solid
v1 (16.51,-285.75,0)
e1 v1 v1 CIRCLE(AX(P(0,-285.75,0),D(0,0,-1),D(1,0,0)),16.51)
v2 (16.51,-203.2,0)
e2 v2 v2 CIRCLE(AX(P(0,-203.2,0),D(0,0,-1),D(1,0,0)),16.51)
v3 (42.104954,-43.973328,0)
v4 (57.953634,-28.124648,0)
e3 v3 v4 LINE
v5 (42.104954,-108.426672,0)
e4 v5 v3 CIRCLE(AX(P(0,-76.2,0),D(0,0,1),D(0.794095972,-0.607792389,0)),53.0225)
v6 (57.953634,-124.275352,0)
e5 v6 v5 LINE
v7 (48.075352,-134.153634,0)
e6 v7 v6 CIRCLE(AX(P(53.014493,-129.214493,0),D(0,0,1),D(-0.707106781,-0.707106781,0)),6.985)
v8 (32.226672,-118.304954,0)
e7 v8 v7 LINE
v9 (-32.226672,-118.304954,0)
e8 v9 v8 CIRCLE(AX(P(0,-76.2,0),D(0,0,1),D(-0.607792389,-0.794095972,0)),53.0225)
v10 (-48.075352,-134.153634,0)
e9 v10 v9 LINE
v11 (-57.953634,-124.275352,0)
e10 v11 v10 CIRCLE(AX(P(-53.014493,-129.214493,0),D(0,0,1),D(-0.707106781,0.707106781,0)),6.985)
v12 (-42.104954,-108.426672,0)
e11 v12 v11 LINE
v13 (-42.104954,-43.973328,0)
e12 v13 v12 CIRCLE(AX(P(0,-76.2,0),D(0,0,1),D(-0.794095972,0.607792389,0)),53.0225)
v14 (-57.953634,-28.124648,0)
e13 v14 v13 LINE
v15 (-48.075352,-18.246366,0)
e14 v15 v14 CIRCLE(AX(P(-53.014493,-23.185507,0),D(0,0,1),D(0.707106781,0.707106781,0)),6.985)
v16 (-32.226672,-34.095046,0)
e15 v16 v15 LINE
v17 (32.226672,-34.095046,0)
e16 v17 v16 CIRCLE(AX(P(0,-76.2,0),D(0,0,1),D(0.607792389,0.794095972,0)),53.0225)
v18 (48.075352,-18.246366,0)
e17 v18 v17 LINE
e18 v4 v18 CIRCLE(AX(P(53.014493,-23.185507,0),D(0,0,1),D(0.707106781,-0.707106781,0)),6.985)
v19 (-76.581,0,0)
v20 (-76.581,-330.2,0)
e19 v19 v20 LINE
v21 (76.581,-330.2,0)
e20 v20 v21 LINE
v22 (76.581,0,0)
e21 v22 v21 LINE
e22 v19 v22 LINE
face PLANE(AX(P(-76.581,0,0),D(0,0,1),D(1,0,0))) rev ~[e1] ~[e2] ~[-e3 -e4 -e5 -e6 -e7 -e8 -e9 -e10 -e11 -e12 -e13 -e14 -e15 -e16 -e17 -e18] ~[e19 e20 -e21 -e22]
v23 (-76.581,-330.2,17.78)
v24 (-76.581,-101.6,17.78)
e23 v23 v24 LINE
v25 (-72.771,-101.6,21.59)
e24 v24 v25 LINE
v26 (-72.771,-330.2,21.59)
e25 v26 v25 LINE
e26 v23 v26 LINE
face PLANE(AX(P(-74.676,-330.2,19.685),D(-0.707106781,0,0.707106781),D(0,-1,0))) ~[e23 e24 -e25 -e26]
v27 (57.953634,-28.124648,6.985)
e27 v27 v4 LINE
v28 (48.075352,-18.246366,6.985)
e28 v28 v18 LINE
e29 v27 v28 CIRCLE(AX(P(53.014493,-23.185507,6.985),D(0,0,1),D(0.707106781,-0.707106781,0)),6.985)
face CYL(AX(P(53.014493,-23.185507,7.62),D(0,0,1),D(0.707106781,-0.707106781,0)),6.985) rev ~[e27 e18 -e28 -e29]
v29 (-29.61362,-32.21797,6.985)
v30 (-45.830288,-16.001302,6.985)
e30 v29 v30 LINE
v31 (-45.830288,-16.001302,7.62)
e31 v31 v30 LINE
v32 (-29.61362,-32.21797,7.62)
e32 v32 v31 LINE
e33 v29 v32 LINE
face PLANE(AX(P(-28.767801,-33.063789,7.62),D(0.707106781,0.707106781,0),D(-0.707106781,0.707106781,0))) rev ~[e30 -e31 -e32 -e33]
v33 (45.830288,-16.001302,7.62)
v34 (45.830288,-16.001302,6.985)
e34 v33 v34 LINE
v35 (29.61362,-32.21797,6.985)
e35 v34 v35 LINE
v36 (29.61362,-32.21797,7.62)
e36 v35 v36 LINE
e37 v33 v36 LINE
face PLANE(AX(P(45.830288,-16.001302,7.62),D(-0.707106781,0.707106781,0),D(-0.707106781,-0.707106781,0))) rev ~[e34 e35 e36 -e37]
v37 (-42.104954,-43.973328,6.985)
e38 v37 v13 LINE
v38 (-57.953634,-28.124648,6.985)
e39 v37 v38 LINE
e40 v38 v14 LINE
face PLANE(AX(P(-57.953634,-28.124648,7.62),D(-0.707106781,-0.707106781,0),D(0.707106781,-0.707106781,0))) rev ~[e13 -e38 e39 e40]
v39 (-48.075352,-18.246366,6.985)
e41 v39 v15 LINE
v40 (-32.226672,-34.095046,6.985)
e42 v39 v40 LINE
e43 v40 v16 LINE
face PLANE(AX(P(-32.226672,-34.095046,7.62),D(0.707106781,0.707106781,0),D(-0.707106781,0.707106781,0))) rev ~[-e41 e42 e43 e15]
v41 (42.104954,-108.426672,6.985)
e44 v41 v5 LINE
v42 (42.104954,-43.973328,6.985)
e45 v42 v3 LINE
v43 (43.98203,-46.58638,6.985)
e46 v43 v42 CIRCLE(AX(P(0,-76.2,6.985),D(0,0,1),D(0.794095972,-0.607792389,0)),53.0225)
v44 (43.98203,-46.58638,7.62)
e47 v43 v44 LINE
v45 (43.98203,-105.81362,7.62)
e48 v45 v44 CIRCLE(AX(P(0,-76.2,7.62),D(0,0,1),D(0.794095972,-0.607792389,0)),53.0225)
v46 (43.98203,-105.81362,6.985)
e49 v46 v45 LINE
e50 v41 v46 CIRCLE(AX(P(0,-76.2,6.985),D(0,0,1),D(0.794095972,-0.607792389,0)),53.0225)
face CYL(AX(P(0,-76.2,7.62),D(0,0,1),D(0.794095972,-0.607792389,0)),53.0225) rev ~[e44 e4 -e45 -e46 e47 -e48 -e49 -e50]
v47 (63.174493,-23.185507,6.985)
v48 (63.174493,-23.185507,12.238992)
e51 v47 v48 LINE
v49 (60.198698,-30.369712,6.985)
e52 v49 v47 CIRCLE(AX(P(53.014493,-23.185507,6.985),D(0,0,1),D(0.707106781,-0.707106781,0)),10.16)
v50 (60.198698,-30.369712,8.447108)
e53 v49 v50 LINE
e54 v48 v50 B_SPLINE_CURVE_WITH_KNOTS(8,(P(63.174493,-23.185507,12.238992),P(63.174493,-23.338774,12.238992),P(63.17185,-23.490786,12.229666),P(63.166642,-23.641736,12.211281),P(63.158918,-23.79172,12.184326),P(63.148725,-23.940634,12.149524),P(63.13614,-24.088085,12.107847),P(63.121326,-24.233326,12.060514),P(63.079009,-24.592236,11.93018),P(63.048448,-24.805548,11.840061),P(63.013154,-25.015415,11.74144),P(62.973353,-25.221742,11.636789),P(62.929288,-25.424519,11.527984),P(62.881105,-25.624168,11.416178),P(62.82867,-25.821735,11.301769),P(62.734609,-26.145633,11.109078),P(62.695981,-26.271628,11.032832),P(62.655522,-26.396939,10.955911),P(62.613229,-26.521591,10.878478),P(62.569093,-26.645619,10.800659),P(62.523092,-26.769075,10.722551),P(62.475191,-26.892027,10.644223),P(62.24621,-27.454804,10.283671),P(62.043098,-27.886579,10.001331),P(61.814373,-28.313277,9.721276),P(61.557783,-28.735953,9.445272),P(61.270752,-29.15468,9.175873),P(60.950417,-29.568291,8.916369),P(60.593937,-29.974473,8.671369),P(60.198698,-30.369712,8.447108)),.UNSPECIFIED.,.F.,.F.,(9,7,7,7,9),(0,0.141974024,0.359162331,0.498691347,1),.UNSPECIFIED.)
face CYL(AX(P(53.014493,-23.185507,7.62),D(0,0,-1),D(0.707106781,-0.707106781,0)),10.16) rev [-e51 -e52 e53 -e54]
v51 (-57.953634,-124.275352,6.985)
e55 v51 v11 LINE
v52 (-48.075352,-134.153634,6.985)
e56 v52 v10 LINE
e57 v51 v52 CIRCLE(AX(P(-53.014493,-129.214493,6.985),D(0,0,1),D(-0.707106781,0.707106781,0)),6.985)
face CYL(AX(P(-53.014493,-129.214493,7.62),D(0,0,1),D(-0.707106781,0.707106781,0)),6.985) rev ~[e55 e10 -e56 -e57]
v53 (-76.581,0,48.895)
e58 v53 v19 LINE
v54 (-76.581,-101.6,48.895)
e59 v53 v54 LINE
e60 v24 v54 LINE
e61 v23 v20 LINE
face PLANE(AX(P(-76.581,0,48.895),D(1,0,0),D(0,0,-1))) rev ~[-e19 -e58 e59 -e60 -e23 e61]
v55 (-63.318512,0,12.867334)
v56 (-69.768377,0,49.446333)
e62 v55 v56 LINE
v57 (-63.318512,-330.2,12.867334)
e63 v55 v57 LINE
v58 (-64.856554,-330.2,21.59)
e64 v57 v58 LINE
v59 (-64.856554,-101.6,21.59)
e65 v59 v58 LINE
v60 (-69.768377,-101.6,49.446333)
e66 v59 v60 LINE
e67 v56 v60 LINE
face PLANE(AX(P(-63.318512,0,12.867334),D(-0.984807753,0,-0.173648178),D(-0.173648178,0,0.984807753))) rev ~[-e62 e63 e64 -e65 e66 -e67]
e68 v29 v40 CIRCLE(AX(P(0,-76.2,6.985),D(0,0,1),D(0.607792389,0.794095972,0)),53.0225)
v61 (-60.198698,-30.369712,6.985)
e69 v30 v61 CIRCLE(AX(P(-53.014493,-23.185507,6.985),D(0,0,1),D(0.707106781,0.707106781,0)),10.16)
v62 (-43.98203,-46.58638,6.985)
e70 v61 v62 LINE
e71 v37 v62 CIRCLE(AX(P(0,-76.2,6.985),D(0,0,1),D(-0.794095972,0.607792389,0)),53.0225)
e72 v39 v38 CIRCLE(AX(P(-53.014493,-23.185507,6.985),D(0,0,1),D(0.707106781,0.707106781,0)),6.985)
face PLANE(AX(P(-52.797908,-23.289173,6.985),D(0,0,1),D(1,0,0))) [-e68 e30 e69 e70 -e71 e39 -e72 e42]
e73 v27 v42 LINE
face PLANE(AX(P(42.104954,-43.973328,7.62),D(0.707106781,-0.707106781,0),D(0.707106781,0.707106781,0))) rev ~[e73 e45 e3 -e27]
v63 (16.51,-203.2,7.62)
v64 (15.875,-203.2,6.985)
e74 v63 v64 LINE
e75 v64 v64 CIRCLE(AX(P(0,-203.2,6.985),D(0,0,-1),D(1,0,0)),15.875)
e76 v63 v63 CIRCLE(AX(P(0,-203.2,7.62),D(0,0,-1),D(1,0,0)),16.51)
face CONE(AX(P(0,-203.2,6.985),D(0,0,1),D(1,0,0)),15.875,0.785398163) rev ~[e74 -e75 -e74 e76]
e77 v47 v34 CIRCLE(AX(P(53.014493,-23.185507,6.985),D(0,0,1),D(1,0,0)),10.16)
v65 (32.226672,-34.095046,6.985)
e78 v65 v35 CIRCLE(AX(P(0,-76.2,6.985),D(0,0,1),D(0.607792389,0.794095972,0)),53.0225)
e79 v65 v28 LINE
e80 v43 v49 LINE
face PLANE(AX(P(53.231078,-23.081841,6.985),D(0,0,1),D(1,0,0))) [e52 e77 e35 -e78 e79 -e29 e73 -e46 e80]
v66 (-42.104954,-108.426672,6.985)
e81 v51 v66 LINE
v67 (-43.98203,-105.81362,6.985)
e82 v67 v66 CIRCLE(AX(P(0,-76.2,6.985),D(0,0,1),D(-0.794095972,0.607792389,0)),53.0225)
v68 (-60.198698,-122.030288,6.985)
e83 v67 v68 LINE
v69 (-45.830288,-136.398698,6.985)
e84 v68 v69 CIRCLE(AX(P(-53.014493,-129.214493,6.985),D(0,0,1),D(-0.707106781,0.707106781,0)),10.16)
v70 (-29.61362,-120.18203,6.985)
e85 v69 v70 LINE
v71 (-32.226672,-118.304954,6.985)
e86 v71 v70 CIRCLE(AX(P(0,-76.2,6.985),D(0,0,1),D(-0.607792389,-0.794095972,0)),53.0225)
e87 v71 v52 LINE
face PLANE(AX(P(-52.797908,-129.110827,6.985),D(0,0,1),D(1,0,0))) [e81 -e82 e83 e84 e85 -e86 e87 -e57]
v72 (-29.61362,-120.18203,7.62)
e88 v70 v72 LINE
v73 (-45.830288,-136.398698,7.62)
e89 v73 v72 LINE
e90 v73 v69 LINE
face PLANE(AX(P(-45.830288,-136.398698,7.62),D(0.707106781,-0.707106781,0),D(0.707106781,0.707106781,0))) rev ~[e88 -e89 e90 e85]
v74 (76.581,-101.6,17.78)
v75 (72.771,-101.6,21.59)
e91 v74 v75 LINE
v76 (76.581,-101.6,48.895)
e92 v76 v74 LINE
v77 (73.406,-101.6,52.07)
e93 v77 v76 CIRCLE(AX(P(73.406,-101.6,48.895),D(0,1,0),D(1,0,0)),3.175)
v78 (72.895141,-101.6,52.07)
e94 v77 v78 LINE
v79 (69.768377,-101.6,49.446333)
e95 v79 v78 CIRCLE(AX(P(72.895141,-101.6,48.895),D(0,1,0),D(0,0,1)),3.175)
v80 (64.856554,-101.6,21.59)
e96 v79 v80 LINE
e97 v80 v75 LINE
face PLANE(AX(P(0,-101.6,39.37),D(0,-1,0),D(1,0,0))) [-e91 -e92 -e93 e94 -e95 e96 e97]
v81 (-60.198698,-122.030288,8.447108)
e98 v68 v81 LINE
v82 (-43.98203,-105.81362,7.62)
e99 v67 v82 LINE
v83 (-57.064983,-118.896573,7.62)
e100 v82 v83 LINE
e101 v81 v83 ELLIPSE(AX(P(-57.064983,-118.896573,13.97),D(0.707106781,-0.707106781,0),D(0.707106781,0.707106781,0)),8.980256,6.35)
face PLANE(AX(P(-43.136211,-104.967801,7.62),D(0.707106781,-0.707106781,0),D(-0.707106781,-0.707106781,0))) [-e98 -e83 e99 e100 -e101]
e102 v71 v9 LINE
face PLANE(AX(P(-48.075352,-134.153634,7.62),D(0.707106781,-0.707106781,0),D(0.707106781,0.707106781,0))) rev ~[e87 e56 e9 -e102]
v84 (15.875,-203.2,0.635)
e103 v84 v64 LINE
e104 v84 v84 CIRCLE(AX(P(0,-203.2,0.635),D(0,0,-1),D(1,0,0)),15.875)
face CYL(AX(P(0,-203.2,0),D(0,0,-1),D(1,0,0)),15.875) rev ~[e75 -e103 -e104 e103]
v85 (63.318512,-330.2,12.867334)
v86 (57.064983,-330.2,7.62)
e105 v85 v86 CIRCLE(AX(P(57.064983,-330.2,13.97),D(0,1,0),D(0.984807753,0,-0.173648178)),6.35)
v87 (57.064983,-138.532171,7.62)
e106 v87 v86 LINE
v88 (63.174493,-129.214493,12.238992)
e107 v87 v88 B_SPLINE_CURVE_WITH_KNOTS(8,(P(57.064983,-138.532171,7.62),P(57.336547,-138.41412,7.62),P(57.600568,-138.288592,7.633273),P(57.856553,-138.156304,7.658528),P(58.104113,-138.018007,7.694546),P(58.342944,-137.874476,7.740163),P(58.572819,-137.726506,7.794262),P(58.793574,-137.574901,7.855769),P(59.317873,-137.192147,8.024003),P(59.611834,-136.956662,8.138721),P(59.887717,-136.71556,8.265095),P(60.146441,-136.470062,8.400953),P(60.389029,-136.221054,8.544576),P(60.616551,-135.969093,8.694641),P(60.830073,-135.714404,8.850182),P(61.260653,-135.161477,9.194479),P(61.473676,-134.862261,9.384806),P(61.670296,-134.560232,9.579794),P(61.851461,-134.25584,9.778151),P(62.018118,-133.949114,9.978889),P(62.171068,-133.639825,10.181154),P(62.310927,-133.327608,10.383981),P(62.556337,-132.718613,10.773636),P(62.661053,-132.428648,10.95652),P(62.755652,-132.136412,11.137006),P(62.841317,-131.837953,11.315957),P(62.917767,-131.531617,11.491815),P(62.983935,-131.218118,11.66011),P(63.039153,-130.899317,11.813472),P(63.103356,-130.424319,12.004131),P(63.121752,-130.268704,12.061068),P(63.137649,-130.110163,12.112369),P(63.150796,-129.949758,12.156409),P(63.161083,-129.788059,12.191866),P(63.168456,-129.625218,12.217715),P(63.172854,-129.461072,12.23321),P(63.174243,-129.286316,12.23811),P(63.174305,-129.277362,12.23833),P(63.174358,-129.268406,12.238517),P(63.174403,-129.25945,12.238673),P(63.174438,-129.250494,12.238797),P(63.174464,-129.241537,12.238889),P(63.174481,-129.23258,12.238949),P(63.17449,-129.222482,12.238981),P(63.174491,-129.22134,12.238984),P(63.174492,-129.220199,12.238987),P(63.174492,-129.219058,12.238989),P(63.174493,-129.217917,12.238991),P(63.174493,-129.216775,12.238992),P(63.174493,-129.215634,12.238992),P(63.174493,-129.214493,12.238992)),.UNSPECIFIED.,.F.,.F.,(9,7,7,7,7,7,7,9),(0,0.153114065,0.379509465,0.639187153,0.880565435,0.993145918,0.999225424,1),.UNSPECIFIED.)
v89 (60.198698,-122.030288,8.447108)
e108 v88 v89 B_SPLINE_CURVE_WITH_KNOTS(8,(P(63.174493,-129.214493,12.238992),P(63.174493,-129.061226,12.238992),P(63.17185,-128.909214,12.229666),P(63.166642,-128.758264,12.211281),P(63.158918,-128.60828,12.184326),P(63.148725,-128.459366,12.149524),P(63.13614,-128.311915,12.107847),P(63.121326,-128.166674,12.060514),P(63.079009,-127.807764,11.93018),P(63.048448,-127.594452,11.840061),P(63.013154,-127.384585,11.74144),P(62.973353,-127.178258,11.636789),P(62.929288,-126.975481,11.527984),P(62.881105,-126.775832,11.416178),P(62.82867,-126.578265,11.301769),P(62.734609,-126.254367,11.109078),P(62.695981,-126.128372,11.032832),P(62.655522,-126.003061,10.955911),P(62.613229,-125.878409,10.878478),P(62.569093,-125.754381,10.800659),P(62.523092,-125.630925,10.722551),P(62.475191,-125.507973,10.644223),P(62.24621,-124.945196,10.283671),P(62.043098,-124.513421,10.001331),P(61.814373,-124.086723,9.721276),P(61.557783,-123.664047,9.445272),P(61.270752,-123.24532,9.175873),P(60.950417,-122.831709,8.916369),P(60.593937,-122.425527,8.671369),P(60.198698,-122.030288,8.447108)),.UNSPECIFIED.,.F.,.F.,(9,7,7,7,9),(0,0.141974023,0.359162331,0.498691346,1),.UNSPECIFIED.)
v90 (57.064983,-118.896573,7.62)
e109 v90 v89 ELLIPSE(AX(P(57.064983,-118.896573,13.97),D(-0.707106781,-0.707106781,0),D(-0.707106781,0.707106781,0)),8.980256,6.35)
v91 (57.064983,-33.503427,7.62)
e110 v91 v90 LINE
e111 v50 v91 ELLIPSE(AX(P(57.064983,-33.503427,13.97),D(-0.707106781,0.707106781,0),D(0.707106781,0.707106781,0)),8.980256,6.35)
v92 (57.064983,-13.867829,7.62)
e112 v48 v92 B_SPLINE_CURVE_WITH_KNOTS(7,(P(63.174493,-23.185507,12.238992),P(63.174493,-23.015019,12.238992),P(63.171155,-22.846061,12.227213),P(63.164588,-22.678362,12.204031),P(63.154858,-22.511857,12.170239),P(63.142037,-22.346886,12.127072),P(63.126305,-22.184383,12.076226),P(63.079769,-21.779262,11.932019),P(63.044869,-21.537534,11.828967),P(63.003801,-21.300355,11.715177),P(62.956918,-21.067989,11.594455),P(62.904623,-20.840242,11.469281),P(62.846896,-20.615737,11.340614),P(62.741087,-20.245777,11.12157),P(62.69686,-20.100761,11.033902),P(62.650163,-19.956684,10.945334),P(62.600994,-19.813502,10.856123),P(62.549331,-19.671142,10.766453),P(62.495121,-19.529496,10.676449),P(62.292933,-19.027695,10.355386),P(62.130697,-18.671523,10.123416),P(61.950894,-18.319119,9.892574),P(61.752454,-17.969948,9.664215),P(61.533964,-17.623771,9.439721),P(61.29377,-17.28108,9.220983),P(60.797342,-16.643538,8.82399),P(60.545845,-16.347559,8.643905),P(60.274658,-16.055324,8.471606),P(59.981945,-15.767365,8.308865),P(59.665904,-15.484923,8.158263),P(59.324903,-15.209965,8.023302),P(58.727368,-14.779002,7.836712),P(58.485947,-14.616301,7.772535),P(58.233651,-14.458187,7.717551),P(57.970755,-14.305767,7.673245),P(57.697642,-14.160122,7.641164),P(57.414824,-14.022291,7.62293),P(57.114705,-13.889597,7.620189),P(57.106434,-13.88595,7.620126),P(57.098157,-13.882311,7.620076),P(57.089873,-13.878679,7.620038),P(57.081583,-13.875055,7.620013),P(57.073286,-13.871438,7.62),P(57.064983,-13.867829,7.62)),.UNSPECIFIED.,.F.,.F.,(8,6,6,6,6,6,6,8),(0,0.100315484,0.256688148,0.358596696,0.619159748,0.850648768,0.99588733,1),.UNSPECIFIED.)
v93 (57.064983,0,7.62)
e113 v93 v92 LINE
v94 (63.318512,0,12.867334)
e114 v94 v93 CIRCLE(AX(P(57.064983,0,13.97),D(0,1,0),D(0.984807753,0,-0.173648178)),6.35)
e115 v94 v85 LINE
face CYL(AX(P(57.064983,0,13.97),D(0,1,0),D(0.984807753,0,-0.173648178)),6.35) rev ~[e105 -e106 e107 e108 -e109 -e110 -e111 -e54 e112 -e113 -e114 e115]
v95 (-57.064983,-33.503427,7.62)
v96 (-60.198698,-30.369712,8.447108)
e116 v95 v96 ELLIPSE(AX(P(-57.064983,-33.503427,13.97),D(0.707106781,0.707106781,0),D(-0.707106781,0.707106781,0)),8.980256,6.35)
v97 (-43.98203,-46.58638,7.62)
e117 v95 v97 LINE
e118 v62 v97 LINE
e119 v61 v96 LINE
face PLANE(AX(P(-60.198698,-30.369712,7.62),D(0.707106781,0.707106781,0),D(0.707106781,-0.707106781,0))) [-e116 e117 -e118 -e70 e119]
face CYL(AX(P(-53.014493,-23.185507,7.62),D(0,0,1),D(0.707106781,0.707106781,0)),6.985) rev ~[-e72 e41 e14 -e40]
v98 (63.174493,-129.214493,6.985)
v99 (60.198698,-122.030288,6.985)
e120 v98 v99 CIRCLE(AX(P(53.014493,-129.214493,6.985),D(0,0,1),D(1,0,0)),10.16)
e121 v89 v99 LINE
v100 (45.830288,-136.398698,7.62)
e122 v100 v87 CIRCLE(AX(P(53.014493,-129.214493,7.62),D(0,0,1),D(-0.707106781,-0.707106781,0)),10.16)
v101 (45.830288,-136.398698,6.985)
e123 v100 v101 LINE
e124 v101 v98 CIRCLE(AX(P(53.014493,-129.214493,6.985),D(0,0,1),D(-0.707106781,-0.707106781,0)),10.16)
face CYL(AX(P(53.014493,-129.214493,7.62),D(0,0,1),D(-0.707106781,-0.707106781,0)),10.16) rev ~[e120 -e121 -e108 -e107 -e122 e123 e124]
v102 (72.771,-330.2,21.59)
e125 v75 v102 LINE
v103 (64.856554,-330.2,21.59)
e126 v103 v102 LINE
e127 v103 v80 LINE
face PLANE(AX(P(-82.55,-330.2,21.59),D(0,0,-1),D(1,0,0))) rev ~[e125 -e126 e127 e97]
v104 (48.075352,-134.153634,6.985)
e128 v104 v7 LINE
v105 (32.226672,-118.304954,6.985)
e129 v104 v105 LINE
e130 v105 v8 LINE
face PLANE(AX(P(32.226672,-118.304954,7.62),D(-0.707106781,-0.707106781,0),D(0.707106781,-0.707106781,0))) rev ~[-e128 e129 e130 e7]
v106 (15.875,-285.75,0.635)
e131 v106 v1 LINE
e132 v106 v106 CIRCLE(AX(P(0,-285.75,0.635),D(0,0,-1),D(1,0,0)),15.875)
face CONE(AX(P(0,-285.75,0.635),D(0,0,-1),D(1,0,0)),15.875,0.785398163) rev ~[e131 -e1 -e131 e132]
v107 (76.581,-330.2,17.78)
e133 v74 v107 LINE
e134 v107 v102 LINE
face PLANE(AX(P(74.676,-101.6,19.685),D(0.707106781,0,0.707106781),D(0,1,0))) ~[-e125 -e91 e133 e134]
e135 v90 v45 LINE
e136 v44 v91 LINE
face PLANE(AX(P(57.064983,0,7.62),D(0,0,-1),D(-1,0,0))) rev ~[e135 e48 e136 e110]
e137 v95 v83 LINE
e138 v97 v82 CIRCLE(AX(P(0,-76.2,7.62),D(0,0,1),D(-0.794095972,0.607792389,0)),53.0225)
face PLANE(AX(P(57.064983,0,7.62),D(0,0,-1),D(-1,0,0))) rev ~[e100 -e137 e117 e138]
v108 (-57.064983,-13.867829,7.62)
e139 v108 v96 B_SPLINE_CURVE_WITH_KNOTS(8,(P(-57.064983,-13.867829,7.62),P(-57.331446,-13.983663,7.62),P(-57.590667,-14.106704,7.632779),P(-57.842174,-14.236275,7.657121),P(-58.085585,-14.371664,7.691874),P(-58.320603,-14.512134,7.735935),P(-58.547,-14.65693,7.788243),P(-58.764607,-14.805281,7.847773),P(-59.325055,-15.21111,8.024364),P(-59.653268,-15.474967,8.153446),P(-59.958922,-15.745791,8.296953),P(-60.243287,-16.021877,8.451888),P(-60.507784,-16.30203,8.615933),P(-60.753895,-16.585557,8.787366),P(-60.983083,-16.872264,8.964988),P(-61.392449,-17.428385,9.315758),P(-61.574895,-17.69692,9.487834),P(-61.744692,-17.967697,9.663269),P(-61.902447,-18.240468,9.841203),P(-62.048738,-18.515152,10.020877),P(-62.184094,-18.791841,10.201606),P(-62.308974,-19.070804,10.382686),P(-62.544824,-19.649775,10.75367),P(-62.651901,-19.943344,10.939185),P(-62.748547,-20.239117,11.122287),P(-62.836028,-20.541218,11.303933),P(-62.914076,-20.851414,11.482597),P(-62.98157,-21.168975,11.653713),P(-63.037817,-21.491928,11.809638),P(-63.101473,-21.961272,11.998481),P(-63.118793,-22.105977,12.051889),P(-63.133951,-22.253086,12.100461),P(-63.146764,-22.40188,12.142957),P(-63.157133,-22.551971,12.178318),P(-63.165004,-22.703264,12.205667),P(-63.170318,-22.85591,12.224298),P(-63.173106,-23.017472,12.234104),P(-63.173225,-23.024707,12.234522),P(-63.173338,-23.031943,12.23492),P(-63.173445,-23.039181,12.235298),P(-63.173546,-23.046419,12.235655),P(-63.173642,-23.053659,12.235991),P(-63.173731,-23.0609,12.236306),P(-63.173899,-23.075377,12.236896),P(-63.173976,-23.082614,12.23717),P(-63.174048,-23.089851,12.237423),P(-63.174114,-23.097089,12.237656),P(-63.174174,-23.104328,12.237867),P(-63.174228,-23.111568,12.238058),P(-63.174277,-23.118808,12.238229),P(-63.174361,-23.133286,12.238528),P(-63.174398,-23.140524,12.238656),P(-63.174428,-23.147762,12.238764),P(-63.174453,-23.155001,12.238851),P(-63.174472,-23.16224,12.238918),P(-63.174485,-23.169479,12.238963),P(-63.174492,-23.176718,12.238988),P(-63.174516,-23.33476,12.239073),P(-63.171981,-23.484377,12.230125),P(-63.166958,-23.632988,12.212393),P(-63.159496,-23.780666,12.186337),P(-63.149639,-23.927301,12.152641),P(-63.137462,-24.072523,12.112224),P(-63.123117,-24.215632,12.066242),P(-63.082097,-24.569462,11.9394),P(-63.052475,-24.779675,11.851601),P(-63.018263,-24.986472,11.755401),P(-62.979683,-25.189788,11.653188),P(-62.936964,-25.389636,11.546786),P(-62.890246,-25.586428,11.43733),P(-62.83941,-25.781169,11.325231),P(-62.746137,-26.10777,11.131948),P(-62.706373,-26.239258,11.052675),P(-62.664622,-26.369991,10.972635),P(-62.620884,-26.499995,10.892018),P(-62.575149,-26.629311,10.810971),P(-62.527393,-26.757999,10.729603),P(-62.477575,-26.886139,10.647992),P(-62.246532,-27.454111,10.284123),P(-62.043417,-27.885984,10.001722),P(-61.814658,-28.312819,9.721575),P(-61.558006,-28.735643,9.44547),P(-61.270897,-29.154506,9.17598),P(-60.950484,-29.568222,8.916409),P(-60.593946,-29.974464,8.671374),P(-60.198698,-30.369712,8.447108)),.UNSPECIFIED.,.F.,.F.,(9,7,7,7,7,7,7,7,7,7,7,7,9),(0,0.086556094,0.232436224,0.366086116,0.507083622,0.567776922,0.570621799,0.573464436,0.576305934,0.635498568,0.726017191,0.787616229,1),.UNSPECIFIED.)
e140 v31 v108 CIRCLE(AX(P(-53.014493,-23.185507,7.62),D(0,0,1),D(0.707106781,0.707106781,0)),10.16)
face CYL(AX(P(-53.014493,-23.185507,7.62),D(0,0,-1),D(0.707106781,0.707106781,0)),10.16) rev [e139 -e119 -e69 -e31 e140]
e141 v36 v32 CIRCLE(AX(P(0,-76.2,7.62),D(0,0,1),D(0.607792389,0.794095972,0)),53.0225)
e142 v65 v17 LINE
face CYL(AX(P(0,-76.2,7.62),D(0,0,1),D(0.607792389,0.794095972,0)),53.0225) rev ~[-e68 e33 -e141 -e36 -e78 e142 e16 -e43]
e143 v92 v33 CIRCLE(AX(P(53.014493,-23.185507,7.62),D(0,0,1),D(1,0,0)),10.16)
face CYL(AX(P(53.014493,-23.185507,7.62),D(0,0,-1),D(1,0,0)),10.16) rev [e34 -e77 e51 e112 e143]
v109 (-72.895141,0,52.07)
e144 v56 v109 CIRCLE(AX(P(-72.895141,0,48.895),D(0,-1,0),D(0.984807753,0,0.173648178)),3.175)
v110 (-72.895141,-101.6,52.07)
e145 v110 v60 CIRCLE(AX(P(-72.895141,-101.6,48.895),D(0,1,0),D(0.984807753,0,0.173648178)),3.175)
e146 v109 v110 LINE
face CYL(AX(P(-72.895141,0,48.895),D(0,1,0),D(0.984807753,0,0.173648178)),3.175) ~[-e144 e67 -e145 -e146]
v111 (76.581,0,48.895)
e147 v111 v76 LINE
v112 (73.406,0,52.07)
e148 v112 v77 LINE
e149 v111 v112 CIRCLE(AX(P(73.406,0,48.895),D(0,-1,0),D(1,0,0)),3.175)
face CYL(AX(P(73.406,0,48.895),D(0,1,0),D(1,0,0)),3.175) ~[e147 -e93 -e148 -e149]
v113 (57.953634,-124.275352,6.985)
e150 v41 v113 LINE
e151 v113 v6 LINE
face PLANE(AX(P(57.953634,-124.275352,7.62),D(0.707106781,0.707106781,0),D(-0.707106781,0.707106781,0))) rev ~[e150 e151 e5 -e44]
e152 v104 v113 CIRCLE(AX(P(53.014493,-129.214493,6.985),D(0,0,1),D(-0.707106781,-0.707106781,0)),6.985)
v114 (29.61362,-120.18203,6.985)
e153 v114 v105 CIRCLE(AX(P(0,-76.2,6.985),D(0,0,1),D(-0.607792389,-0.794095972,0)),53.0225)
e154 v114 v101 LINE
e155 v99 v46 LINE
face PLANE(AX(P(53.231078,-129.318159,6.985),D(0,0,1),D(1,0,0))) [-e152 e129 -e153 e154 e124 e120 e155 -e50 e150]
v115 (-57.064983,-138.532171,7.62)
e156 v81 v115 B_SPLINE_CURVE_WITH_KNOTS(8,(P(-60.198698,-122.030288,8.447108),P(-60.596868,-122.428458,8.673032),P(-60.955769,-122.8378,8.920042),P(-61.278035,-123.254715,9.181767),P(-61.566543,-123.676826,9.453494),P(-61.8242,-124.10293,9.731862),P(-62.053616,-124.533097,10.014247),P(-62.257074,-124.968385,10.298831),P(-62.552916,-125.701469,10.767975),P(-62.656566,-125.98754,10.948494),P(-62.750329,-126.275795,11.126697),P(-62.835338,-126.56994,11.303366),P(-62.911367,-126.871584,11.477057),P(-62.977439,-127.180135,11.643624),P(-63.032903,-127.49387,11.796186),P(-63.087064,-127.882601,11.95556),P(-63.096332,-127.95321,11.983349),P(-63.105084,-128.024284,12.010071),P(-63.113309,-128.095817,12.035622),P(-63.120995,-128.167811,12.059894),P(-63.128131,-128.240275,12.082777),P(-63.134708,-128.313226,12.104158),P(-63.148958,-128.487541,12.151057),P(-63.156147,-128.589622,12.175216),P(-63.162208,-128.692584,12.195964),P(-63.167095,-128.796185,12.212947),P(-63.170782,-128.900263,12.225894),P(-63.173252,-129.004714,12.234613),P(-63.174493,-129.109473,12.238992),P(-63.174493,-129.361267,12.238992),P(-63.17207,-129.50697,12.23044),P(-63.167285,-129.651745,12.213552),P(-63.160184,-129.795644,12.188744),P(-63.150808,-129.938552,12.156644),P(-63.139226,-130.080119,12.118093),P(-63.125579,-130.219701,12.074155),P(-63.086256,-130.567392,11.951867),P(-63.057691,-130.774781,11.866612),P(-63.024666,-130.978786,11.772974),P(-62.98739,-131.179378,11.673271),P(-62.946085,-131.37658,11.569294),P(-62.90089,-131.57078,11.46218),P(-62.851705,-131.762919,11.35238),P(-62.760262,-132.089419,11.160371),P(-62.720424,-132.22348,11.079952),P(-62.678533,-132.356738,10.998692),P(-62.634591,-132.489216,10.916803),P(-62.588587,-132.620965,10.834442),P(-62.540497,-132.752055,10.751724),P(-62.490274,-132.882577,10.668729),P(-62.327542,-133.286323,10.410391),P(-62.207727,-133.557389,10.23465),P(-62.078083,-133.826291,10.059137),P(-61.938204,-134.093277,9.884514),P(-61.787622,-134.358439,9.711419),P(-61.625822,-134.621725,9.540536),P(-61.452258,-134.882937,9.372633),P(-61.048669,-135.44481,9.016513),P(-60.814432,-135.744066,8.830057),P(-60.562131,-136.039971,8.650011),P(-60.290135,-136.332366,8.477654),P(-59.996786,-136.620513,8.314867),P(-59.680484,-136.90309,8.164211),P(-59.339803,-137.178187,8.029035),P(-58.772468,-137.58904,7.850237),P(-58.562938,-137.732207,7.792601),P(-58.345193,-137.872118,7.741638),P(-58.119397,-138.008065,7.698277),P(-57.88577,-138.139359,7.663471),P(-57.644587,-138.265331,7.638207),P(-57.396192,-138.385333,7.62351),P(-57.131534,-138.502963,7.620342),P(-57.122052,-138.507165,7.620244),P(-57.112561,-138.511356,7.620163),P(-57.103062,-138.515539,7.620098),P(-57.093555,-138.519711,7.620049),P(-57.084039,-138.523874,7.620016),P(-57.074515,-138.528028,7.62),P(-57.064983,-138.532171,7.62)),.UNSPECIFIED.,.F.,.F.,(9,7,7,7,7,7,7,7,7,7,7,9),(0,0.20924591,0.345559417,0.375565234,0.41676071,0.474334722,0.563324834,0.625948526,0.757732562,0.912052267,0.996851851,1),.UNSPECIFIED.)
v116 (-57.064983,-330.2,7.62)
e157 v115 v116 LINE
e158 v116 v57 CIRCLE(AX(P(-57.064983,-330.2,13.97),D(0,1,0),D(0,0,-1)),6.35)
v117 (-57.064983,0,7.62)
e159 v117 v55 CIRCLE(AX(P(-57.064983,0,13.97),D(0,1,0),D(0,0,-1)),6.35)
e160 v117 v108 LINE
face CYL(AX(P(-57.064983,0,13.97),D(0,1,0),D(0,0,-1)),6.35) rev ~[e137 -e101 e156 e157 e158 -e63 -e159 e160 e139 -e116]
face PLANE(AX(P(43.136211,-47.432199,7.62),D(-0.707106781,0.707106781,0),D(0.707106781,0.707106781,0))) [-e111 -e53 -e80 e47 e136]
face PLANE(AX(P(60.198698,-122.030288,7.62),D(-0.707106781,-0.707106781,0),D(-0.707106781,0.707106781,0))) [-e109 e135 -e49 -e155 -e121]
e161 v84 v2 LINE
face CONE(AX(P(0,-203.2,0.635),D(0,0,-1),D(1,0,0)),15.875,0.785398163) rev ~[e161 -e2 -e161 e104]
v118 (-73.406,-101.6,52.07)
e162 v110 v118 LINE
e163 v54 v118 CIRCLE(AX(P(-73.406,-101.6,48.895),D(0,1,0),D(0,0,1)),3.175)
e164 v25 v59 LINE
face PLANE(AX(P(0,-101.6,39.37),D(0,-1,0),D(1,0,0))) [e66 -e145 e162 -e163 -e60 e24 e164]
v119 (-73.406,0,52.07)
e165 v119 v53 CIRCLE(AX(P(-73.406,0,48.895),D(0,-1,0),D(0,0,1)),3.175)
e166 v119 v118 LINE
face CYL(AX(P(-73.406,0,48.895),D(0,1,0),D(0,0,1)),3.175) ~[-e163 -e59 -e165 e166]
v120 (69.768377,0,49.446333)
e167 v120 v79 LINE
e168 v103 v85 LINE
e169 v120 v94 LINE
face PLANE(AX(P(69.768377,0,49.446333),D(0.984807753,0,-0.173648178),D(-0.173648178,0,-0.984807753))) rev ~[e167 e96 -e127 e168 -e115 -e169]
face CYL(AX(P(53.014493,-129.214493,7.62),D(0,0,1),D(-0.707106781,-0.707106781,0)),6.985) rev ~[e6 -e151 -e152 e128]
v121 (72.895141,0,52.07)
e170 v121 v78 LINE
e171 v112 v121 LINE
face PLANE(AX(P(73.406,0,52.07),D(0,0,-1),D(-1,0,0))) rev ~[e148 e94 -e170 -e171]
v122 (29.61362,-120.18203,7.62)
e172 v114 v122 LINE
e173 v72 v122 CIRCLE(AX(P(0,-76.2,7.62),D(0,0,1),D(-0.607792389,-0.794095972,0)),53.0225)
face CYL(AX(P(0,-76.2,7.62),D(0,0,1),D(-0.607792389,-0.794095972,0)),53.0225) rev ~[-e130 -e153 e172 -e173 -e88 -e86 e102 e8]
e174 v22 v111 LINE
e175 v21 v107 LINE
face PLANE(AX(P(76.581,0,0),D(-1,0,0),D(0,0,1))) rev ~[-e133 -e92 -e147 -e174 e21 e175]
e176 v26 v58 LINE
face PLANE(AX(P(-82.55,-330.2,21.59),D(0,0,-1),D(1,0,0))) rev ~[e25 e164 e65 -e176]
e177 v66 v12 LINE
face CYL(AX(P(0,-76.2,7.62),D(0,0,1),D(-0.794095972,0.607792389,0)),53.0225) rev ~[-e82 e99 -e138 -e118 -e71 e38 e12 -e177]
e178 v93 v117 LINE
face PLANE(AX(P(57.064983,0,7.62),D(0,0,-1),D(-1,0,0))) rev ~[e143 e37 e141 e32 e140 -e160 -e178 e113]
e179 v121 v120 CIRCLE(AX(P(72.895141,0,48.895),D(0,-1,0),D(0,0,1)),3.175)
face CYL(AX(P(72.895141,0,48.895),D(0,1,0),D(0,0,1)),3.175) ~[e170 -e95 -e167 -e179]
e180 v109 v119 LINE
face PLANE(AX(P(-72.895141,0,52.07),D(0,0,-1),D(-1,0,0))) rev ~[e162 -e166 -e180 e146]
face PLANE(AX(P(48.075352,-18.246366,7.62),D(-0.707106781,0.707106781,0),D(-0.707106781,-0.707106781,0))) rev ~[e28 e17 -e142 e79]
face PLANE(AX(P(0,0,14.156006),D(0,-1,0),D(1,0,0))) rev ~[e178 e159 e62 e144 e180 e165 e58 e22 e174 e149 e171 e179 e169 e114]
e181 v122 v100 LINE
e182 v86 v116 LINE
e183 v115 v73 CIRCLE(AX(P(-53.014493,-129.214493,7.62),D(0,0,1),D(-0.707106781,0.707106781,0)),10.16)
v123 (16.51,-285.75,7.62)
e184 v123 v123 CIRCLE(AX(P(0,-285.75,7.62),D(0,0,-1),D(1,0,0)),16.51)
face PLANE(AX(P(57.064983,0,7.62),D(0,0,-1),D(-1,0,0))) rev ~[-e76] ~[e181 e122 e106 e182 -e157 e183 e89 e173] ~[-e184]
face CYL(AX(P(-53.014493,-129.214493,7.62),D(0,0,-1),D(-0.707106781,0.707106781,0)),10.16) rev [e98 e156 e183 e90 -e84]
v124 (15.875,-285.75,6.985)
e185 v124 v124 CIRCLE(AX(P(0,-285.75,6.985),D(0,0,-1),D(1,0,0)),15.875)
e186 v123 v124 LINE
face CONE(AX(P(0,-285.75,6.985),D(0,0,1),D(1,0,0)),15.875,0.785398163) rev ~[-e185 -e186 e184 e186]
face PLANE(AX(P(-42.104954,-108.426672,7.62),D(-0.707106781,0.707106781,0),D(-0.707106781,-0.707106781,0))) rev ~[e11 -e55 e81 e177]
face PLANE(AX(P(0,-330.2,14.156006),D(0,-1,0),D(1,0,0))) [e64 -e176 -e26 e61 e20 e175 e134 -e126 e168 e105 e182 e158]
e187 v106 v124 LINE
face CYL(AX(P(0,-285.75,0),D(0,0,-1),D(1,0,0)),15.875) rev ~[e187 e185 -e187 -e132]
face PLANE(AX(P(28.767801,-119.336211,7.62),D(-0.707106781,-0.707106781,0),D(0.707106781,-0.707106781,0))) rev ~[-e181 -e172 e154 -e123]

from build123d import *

# Parameters (mm, degrees)
F1_DEPTH  = 330.2
F2_W      = 165.1
F2_H      = 35.56
F3_DEPTH  = 228.6
F4_SIZE   = 3.81
F6_DEPTH  = 25.4
F8_DEPTH  = 0.635
F9_DEPTH  = 25.4
F10_R     = 15.875
F11_DEPTH = 25.4
F12_SIZE  = 0.635


with BuildPart() as f1:
    # F0 (on Front) → F1 (new body)
    with BuildSketch(Plane.XZ):
        with BuildLine():
            Line((-76.581, 48.895), (-76.581, 0))
            Line((-76.581, 0), (76.581, 0))
            Line((76.581, 0), (76.581, 48.895))
            ThreePointArc((76.581, 48.895), (75.6510640303, 51.1400640303), (73.406, 52.07))
            Line((73.406, 52.07), (72.895141329, 52.07))
            ThreePointArc((72.895141329, 52.07), (70.8542906682, 51.3271911069), (69.7683767132, 49.4463329641))
            Line((69.7683767132, 49.4463329641), (63.3185122812, 12.8673340718))
            ThreePointArc((63.3185122812, 12.8673340718), (61.146684371, 9.1056177862), (57.0649830495, 7.62))
            Line((57.0649830495, 7.62), (0, 7.62))
            Line((0, 7.62), (-57.0649830495, 7.62))
            ThreePointArc((-57.0649830495, 7.62), (-61.146684371, 9.1056177862), (-63.3185122812, 12.8673340718))
            Line((-63.3185122812, 12.8673340718), (-69.7683767132, 49.4463329641))
            ThreePointArc((-69.7683767132, 49.4463329641), (-70.8542906682, 51.3271911069), (-72.895141329, 52.07))
            Line((-72.895141329, 52.07), (-73.406, 52.07))
            ThreePointArc((-73.406, 52.07), (-75.6510640303, 51.1400640303), (-76.581, 48.895))
        make_face()
    extrude(amount=F1_DEPTH)

    # F2 (on face) → F3 (cut)
    with BuildSketch(Plane.XZ.offset(330.2)):
        with Locations((0, 39.37)):
            Rectangle(F2_W, F2_H)
    extrude(amount=-F3_DEPTH, mode=Mode.SUBTRACT)

    # F4
    f4_edges = [f1.edges().sort_by_distance(p)[0] for p in [
        (76.581, -215.9, 21.59),
        (-76.581, -215.9, 21.59),
    ]]
    chamfer(f4_edges, length=F4_SIZE)

    # F5 (on face) → F6 (cut)
    with BuildSketch(Plane.XY.offset(7.62)):
        with BuildLine():
            Line((-57.9536338645, -28.1246478687), (-42.1049536604, -43.9733280728))
            ThreePointArc((-42.1049536604, -43.9733280728), (-53.0225, -76.2), (-42.1049536604, -108.4266719272))
            Line((-42.1049536604, -108.4266719272), (-57.9536338645, -124.2753521313))
            ThreePointArc((-57.9536338645, -124.2753521313), (-57.9536338645, -134.1536338645), (-48.0753521313, -134.1536338645))
            Line((-48.0753521313, -134.1536338645), (-32.2266719272, -118.3049536604))
            ThreePointArc((-32.2266719272, -118.3049536604), (0, -129.2225), (32.2266719272, -118.3049536604))
            Line((32.2266719272, -118.3049536604), (48.0753521313, -134.1536338645))
            ThreePointArc((48.0753521313, -134.1536338645), (57.9536338645, -134.1536338645), (57.9536338645, -124.2753521313))
            Line((57.9536338645, -124.2753521313), (42.1049536604, -108.4266719272))
            ThreePointArc((42.1049536604, -108.4266719272), (53.0225, -76.2), (42.1049536604, -43.9733280728))
            Line((42.1049536604, -43.9733280728), (57.9536338645, -28.1246478687))
            ThreePointArc((57.9536338645, -28.1246478687), (57.9536338645, -18.2463661355), (48.0753521313, -18.2463661355))
            Line((48.0753521313, -18.2463661355), (32.2266719272, -34.0950463396))
            ThreePointArc((32.2266719272, -34.0950463396), (0, -23.1775), (-32.2266719272, -34.0950463396))
            Line((-32.2266719272, -34.0950463396), (-48.0753521313, -18.2463661355))
            ThreePointArc((-48.0753521313, -18.2463661355), (-57.9536338645, -18.2463661355), (-57.9536338645, -28.1246478687))
        make_face()
    extrude(amount=-F6_DEPTH, mode=Mode.SUBTRACT)

    # F7 (on face) → F8 (cut)
    with BuildSketch(Plane.XY.offset(7.62)):
        with BuildLine():
            ThreePointArc((-60.1986978948, -30.3697118989), (-49.1264293251, -32.5721230524), (-42.8544929979, -23.1855070021))
            ThreePointArc((-42.8544929979, -23.1855070021), (-43.6278769476, -19.2974433292), (-45.8302881011, -16.0013021052))
            ThreePointArc((-45.8302881011, -16.0013021052), (-60.1986978948, -16.0013021052), (-60.1986978948, -30.3697118989))
        make_face()
        with BuildLine():
            ThreePointArc((-45.8302881011, -16.0013021052), (-43.6278769476, -19.2974433292), (-42.8544929979, -23.1855070021))
            ThreePointArc((-42.8544929979, -23.1855070021), (-49.1264293251, -32.5721230524), (-60.1986978948, -30.3697118989))
            Line((-60.1986978948, -30.3697118989), (-43.1340409794, -47.4343688143))
            Line((-43.1340409794, -47.4343688143), (-28.767801471, -33.0637887353))
            Line((-28.767801471, -33.0637887353), (-45.8302881011, -16.0013021052))
        make_face()
        with BuildLine():
            ThreePointArc((-45.8302881011, -136.3986978948), (-43.6278769476, -133.1025566708), (-42.8544929979, -129.2144929979))
            ThreePointArc((-42.8544929979, -129.2144929979), (-49.1264293251, -119.8278769476), (-60.1986978948, -122.0302881011))
            ThreePointArc((-60.1986978948, -122.0302881011), (-60.1986978948, -136.3986978948), (-45.8302881011, -136.3986978948))
        make_face()
        with BuildLine():
            ThreePointArc((-60.1986978948, -122.0302881011), (-49.1264293251, -119.8278769476), (-42.8544929979, -129.2144929979))
            ThreePointArc((-42.8544929979, -129.2144929979), (-43.6278769476, -133.1025566708), (-45.8302881011, -136.3986978948))
            Line((-45.8302881011, -136.3986978948), (-28.7656311857, -119.3340409794))
            Line((-28.7656311857, -119.3340409794), (-43.1362112647, -104.967801471))
            Line((-43.1362112647, -104.967801471), (-60.1986978948, -122.0302881011))
        make_face()
        with BuildLine():
            ThreePointArc((45.8302881011, -136.3986978948), (56.9025566708, -138.6011090482), (63.1744929979, -129.2144929979))
            ThreePointArc((63.1744929979, -129.2144929979), (62.4011090482, -125.3264293251), (60.1986978948, -122.0302881011))
            ThreePointArc((60.1986978948, -122.0302881011), (45.8302881011, -122.0302881011), (45.8302881011, -136.3986978948))
        make_face()
        with BuildLine():
            ThreePointArc((45.8302881011, -136.3986978948), (45.8302881011, -122.0302881011), (60.1986978948, -122.0302881011))
            Line((60.1986978948, -122.0302881011), (43.1340409794, -104.9656311857))
            Line((43.1340409794, -104.9656311857), (28.767801471, -119.3362112647))
            Line((28.767801471, -119.3362112647), (45.8302881011, -136.3986978948))
        make_face()
        with BuildLine():
            ThreePointArc((60.1986978948, -30.3697118989), (62.4011090482, -27.0735706749), (63.1744929979, -23.1855070021))
            ThreePointArc((63.1744929979, -23.1855070021), (56.9025566708, -13.7988909518), (45.8302881011, -16.0013021052))
            ThreePointArc((45.8302881011, -16.0013021052), (45.8302881011, -30.3697118989), (60.1986978948, -30.3697118989))
        make_face()
        with BuildLine():
            ThreePointArc((60.1986978948, -30.3697118989), (45.8302881011, -30.3697118989), (45.8302881011, -16.0013021052))
            Line((45.8302881011, -16.0013021052), (28.7656311857, -33.0659590206))
            Line((28.7656311857, -33.0659590206), (43.1362112647, -47.432198529))
            Line((43.1362112647, -47.432198529), (60.1986978948, -30.3697118989))
        make_face()
    extrude(amount=-F8_DEPTH, mode=Mode.SUBTRACT)

    # F7 (on face) → F9 (cut)
    with BuildSketch(Plane.XY.offset(7.62)):
        with BuildLine():
            ThreePointArc((-60.1986978948, -30.3697118989), (-49.1264293251, -32.5721230524), (-42.8544929979, -23.1855070021))
            ThreePointArc((-42.8544929979, -23.1855070021), (-43.6278769476, -19.2974433292), (-45.8302881011, -16.0013021052))
            ThreePointArc((-45.8302881011, -16.0013021052), (-60.1986978948, -16.0013021052), (-60.1986978948, -30.3697118989))
        make_face()
        with BuildLine():
            ThreePointArc((-45.8302881011, -16.0013021052), (-43.6278769476, -19.2974433292), (-42.8544929979, -23.1855070021))
            ThreePointArc((-42.8544929979, -23.1855070021), (-49.1264293251, -32.5721230524), (-60.1986978948, -30.3697118989))
            Line((-60.1986978948, -30.3697118989), (-43.1340409794, -47.4343688143))
            Line((-43.1340409794, -47.4343688143), (-28.767801471, -33.0637887353))
            Line((-28.767801471, -33.0637887353), (-45.8302881011, -16.0013021052))
        make_face()
        with BuildLine():
            ThreePointArc((-45.8302881011, -136.3986978948), (-43.6278769476, -133.1025566708), (-42.8544929979, -129.2144929979))
            ThreePointArc((-42.8544929979, -129.2144929979), (-49.1264293251, -119.8278769476), (-60.1986978948, -122.0302881011))
            ThreePointArc((-60.1986978948, -122.0302881011), (-60.1986978948, -136.3986978948), (-45.8302881011, -136.3986978948))
        make_face()
        with BuildLine():
            ThreePointArc((-60.1986978948, -122.0302881011), (-49.1264293251, -119.8278769476), (-42.8544929979, -129.2144929979))
            ThreePointArc((-42.8544929979, -129.2144929979), (-43.6278769476, -133.1025566708), (-45.8302881011, -136.3986978948))
            Line((-45.8302881011, -136.3986978948), (-28.7656311857, -119.3340409794))
            Line((-28.7656311857, -119.3340409794), (-43.1362112647, -104.967801471))
            Line((-43.1362112647, -104.967801471), (-60.1986978948, -122.0302881011))
        make_face()
        with BuildLine():
            ThreePointArc((45.8302881011, -136.3986978948), (56.9025566708, -138.6011090482), (63.1744929979, -129.2144929979))
            ThreePointArc((63.1744929979, -129.2144929979), (62.4011090482, -125.3264293251), (60.1986978948, -122.0302881011))
            ThreePointArc((60.1986978948, -122.0302881011), (45.8302881011, -122.0302881011), (45.8302881011, -136.3986978948))
        make_face()
        with BuildLine():
            ThreePointArc((45.8302881011, -136.3986978948), (45.8302881011, -122.0302881011), (60.1986978948, -122.0302881011))
            Line((60.1986978948, -122.0302881011), (43.1340409794, -104.9656311857))
            Line((43.1340409794, -104.9656311857), (28.767801471, -119.3362112647))
            Line((28.767801471, -119.3362112647), (45.8302881011, -136.3986978948))
        make_face()
        with BuildLine():
            ThreePointArc((60.1986978948, -30.3697118989), (62.4011090482, -27.0735706749), (63.1744929979, -23.1855070021))
            ThreePointArc((63.1744929979, -23.1855070021), (56.9025566708, -13.7988909518), (45.8302881011, -16.0013021052))
            ThreePointArc((45.8302881011, -16.0013021052), (45.8302881011, -30.3697118989), (60.1986978948, -30.3697118989))
        make_face()
        with BuildLine():
            ThreePointArc((60.1986978948, -30.3697118989), (45.8302881011, -30.3697118989), (45.8302881011, -16.0013021052))
            Line((45.8302881011, -16.0013021052), (28.7656311857, -33.0659590206))
            Line((28.7656311857, -33.0659590206), (43.1362112647, -47.432198529))
            Line((43.1362112647, -47.432198529), (60.1986978948, -30.3697118989))
        make_face()
    extrude(amount=F9_DEPTH, mode=Mode.SUBTRACT)

    # F10 (on face) → F11 (cut)
    with BuildSketch(Plane(origin=(0, 0, 0), x_dir=(1, 0, 0), z_dir=(0, 0, -1))):
        with Locations((0, 285.75)):
            Circle(F10_R)
        with Locations((0, 203.2)):
            Circle(F10_R)
    extrude(amount=-F11_DEPTH, mode=Mode.SUBTRACT)

    # F12
    f12_edges = [f1.edges().sort_by_distance(p)[0] for p in [
        (-15.875, -203.2, 7.62),
        (-15.875, -203.2, 0),
        (-15.875, -285.75, 0),
        (-15.875, -285.75, 7.62),
    ]]
    chamfer(f12_edges, length=F12_SIZE)


solid = f1.part
